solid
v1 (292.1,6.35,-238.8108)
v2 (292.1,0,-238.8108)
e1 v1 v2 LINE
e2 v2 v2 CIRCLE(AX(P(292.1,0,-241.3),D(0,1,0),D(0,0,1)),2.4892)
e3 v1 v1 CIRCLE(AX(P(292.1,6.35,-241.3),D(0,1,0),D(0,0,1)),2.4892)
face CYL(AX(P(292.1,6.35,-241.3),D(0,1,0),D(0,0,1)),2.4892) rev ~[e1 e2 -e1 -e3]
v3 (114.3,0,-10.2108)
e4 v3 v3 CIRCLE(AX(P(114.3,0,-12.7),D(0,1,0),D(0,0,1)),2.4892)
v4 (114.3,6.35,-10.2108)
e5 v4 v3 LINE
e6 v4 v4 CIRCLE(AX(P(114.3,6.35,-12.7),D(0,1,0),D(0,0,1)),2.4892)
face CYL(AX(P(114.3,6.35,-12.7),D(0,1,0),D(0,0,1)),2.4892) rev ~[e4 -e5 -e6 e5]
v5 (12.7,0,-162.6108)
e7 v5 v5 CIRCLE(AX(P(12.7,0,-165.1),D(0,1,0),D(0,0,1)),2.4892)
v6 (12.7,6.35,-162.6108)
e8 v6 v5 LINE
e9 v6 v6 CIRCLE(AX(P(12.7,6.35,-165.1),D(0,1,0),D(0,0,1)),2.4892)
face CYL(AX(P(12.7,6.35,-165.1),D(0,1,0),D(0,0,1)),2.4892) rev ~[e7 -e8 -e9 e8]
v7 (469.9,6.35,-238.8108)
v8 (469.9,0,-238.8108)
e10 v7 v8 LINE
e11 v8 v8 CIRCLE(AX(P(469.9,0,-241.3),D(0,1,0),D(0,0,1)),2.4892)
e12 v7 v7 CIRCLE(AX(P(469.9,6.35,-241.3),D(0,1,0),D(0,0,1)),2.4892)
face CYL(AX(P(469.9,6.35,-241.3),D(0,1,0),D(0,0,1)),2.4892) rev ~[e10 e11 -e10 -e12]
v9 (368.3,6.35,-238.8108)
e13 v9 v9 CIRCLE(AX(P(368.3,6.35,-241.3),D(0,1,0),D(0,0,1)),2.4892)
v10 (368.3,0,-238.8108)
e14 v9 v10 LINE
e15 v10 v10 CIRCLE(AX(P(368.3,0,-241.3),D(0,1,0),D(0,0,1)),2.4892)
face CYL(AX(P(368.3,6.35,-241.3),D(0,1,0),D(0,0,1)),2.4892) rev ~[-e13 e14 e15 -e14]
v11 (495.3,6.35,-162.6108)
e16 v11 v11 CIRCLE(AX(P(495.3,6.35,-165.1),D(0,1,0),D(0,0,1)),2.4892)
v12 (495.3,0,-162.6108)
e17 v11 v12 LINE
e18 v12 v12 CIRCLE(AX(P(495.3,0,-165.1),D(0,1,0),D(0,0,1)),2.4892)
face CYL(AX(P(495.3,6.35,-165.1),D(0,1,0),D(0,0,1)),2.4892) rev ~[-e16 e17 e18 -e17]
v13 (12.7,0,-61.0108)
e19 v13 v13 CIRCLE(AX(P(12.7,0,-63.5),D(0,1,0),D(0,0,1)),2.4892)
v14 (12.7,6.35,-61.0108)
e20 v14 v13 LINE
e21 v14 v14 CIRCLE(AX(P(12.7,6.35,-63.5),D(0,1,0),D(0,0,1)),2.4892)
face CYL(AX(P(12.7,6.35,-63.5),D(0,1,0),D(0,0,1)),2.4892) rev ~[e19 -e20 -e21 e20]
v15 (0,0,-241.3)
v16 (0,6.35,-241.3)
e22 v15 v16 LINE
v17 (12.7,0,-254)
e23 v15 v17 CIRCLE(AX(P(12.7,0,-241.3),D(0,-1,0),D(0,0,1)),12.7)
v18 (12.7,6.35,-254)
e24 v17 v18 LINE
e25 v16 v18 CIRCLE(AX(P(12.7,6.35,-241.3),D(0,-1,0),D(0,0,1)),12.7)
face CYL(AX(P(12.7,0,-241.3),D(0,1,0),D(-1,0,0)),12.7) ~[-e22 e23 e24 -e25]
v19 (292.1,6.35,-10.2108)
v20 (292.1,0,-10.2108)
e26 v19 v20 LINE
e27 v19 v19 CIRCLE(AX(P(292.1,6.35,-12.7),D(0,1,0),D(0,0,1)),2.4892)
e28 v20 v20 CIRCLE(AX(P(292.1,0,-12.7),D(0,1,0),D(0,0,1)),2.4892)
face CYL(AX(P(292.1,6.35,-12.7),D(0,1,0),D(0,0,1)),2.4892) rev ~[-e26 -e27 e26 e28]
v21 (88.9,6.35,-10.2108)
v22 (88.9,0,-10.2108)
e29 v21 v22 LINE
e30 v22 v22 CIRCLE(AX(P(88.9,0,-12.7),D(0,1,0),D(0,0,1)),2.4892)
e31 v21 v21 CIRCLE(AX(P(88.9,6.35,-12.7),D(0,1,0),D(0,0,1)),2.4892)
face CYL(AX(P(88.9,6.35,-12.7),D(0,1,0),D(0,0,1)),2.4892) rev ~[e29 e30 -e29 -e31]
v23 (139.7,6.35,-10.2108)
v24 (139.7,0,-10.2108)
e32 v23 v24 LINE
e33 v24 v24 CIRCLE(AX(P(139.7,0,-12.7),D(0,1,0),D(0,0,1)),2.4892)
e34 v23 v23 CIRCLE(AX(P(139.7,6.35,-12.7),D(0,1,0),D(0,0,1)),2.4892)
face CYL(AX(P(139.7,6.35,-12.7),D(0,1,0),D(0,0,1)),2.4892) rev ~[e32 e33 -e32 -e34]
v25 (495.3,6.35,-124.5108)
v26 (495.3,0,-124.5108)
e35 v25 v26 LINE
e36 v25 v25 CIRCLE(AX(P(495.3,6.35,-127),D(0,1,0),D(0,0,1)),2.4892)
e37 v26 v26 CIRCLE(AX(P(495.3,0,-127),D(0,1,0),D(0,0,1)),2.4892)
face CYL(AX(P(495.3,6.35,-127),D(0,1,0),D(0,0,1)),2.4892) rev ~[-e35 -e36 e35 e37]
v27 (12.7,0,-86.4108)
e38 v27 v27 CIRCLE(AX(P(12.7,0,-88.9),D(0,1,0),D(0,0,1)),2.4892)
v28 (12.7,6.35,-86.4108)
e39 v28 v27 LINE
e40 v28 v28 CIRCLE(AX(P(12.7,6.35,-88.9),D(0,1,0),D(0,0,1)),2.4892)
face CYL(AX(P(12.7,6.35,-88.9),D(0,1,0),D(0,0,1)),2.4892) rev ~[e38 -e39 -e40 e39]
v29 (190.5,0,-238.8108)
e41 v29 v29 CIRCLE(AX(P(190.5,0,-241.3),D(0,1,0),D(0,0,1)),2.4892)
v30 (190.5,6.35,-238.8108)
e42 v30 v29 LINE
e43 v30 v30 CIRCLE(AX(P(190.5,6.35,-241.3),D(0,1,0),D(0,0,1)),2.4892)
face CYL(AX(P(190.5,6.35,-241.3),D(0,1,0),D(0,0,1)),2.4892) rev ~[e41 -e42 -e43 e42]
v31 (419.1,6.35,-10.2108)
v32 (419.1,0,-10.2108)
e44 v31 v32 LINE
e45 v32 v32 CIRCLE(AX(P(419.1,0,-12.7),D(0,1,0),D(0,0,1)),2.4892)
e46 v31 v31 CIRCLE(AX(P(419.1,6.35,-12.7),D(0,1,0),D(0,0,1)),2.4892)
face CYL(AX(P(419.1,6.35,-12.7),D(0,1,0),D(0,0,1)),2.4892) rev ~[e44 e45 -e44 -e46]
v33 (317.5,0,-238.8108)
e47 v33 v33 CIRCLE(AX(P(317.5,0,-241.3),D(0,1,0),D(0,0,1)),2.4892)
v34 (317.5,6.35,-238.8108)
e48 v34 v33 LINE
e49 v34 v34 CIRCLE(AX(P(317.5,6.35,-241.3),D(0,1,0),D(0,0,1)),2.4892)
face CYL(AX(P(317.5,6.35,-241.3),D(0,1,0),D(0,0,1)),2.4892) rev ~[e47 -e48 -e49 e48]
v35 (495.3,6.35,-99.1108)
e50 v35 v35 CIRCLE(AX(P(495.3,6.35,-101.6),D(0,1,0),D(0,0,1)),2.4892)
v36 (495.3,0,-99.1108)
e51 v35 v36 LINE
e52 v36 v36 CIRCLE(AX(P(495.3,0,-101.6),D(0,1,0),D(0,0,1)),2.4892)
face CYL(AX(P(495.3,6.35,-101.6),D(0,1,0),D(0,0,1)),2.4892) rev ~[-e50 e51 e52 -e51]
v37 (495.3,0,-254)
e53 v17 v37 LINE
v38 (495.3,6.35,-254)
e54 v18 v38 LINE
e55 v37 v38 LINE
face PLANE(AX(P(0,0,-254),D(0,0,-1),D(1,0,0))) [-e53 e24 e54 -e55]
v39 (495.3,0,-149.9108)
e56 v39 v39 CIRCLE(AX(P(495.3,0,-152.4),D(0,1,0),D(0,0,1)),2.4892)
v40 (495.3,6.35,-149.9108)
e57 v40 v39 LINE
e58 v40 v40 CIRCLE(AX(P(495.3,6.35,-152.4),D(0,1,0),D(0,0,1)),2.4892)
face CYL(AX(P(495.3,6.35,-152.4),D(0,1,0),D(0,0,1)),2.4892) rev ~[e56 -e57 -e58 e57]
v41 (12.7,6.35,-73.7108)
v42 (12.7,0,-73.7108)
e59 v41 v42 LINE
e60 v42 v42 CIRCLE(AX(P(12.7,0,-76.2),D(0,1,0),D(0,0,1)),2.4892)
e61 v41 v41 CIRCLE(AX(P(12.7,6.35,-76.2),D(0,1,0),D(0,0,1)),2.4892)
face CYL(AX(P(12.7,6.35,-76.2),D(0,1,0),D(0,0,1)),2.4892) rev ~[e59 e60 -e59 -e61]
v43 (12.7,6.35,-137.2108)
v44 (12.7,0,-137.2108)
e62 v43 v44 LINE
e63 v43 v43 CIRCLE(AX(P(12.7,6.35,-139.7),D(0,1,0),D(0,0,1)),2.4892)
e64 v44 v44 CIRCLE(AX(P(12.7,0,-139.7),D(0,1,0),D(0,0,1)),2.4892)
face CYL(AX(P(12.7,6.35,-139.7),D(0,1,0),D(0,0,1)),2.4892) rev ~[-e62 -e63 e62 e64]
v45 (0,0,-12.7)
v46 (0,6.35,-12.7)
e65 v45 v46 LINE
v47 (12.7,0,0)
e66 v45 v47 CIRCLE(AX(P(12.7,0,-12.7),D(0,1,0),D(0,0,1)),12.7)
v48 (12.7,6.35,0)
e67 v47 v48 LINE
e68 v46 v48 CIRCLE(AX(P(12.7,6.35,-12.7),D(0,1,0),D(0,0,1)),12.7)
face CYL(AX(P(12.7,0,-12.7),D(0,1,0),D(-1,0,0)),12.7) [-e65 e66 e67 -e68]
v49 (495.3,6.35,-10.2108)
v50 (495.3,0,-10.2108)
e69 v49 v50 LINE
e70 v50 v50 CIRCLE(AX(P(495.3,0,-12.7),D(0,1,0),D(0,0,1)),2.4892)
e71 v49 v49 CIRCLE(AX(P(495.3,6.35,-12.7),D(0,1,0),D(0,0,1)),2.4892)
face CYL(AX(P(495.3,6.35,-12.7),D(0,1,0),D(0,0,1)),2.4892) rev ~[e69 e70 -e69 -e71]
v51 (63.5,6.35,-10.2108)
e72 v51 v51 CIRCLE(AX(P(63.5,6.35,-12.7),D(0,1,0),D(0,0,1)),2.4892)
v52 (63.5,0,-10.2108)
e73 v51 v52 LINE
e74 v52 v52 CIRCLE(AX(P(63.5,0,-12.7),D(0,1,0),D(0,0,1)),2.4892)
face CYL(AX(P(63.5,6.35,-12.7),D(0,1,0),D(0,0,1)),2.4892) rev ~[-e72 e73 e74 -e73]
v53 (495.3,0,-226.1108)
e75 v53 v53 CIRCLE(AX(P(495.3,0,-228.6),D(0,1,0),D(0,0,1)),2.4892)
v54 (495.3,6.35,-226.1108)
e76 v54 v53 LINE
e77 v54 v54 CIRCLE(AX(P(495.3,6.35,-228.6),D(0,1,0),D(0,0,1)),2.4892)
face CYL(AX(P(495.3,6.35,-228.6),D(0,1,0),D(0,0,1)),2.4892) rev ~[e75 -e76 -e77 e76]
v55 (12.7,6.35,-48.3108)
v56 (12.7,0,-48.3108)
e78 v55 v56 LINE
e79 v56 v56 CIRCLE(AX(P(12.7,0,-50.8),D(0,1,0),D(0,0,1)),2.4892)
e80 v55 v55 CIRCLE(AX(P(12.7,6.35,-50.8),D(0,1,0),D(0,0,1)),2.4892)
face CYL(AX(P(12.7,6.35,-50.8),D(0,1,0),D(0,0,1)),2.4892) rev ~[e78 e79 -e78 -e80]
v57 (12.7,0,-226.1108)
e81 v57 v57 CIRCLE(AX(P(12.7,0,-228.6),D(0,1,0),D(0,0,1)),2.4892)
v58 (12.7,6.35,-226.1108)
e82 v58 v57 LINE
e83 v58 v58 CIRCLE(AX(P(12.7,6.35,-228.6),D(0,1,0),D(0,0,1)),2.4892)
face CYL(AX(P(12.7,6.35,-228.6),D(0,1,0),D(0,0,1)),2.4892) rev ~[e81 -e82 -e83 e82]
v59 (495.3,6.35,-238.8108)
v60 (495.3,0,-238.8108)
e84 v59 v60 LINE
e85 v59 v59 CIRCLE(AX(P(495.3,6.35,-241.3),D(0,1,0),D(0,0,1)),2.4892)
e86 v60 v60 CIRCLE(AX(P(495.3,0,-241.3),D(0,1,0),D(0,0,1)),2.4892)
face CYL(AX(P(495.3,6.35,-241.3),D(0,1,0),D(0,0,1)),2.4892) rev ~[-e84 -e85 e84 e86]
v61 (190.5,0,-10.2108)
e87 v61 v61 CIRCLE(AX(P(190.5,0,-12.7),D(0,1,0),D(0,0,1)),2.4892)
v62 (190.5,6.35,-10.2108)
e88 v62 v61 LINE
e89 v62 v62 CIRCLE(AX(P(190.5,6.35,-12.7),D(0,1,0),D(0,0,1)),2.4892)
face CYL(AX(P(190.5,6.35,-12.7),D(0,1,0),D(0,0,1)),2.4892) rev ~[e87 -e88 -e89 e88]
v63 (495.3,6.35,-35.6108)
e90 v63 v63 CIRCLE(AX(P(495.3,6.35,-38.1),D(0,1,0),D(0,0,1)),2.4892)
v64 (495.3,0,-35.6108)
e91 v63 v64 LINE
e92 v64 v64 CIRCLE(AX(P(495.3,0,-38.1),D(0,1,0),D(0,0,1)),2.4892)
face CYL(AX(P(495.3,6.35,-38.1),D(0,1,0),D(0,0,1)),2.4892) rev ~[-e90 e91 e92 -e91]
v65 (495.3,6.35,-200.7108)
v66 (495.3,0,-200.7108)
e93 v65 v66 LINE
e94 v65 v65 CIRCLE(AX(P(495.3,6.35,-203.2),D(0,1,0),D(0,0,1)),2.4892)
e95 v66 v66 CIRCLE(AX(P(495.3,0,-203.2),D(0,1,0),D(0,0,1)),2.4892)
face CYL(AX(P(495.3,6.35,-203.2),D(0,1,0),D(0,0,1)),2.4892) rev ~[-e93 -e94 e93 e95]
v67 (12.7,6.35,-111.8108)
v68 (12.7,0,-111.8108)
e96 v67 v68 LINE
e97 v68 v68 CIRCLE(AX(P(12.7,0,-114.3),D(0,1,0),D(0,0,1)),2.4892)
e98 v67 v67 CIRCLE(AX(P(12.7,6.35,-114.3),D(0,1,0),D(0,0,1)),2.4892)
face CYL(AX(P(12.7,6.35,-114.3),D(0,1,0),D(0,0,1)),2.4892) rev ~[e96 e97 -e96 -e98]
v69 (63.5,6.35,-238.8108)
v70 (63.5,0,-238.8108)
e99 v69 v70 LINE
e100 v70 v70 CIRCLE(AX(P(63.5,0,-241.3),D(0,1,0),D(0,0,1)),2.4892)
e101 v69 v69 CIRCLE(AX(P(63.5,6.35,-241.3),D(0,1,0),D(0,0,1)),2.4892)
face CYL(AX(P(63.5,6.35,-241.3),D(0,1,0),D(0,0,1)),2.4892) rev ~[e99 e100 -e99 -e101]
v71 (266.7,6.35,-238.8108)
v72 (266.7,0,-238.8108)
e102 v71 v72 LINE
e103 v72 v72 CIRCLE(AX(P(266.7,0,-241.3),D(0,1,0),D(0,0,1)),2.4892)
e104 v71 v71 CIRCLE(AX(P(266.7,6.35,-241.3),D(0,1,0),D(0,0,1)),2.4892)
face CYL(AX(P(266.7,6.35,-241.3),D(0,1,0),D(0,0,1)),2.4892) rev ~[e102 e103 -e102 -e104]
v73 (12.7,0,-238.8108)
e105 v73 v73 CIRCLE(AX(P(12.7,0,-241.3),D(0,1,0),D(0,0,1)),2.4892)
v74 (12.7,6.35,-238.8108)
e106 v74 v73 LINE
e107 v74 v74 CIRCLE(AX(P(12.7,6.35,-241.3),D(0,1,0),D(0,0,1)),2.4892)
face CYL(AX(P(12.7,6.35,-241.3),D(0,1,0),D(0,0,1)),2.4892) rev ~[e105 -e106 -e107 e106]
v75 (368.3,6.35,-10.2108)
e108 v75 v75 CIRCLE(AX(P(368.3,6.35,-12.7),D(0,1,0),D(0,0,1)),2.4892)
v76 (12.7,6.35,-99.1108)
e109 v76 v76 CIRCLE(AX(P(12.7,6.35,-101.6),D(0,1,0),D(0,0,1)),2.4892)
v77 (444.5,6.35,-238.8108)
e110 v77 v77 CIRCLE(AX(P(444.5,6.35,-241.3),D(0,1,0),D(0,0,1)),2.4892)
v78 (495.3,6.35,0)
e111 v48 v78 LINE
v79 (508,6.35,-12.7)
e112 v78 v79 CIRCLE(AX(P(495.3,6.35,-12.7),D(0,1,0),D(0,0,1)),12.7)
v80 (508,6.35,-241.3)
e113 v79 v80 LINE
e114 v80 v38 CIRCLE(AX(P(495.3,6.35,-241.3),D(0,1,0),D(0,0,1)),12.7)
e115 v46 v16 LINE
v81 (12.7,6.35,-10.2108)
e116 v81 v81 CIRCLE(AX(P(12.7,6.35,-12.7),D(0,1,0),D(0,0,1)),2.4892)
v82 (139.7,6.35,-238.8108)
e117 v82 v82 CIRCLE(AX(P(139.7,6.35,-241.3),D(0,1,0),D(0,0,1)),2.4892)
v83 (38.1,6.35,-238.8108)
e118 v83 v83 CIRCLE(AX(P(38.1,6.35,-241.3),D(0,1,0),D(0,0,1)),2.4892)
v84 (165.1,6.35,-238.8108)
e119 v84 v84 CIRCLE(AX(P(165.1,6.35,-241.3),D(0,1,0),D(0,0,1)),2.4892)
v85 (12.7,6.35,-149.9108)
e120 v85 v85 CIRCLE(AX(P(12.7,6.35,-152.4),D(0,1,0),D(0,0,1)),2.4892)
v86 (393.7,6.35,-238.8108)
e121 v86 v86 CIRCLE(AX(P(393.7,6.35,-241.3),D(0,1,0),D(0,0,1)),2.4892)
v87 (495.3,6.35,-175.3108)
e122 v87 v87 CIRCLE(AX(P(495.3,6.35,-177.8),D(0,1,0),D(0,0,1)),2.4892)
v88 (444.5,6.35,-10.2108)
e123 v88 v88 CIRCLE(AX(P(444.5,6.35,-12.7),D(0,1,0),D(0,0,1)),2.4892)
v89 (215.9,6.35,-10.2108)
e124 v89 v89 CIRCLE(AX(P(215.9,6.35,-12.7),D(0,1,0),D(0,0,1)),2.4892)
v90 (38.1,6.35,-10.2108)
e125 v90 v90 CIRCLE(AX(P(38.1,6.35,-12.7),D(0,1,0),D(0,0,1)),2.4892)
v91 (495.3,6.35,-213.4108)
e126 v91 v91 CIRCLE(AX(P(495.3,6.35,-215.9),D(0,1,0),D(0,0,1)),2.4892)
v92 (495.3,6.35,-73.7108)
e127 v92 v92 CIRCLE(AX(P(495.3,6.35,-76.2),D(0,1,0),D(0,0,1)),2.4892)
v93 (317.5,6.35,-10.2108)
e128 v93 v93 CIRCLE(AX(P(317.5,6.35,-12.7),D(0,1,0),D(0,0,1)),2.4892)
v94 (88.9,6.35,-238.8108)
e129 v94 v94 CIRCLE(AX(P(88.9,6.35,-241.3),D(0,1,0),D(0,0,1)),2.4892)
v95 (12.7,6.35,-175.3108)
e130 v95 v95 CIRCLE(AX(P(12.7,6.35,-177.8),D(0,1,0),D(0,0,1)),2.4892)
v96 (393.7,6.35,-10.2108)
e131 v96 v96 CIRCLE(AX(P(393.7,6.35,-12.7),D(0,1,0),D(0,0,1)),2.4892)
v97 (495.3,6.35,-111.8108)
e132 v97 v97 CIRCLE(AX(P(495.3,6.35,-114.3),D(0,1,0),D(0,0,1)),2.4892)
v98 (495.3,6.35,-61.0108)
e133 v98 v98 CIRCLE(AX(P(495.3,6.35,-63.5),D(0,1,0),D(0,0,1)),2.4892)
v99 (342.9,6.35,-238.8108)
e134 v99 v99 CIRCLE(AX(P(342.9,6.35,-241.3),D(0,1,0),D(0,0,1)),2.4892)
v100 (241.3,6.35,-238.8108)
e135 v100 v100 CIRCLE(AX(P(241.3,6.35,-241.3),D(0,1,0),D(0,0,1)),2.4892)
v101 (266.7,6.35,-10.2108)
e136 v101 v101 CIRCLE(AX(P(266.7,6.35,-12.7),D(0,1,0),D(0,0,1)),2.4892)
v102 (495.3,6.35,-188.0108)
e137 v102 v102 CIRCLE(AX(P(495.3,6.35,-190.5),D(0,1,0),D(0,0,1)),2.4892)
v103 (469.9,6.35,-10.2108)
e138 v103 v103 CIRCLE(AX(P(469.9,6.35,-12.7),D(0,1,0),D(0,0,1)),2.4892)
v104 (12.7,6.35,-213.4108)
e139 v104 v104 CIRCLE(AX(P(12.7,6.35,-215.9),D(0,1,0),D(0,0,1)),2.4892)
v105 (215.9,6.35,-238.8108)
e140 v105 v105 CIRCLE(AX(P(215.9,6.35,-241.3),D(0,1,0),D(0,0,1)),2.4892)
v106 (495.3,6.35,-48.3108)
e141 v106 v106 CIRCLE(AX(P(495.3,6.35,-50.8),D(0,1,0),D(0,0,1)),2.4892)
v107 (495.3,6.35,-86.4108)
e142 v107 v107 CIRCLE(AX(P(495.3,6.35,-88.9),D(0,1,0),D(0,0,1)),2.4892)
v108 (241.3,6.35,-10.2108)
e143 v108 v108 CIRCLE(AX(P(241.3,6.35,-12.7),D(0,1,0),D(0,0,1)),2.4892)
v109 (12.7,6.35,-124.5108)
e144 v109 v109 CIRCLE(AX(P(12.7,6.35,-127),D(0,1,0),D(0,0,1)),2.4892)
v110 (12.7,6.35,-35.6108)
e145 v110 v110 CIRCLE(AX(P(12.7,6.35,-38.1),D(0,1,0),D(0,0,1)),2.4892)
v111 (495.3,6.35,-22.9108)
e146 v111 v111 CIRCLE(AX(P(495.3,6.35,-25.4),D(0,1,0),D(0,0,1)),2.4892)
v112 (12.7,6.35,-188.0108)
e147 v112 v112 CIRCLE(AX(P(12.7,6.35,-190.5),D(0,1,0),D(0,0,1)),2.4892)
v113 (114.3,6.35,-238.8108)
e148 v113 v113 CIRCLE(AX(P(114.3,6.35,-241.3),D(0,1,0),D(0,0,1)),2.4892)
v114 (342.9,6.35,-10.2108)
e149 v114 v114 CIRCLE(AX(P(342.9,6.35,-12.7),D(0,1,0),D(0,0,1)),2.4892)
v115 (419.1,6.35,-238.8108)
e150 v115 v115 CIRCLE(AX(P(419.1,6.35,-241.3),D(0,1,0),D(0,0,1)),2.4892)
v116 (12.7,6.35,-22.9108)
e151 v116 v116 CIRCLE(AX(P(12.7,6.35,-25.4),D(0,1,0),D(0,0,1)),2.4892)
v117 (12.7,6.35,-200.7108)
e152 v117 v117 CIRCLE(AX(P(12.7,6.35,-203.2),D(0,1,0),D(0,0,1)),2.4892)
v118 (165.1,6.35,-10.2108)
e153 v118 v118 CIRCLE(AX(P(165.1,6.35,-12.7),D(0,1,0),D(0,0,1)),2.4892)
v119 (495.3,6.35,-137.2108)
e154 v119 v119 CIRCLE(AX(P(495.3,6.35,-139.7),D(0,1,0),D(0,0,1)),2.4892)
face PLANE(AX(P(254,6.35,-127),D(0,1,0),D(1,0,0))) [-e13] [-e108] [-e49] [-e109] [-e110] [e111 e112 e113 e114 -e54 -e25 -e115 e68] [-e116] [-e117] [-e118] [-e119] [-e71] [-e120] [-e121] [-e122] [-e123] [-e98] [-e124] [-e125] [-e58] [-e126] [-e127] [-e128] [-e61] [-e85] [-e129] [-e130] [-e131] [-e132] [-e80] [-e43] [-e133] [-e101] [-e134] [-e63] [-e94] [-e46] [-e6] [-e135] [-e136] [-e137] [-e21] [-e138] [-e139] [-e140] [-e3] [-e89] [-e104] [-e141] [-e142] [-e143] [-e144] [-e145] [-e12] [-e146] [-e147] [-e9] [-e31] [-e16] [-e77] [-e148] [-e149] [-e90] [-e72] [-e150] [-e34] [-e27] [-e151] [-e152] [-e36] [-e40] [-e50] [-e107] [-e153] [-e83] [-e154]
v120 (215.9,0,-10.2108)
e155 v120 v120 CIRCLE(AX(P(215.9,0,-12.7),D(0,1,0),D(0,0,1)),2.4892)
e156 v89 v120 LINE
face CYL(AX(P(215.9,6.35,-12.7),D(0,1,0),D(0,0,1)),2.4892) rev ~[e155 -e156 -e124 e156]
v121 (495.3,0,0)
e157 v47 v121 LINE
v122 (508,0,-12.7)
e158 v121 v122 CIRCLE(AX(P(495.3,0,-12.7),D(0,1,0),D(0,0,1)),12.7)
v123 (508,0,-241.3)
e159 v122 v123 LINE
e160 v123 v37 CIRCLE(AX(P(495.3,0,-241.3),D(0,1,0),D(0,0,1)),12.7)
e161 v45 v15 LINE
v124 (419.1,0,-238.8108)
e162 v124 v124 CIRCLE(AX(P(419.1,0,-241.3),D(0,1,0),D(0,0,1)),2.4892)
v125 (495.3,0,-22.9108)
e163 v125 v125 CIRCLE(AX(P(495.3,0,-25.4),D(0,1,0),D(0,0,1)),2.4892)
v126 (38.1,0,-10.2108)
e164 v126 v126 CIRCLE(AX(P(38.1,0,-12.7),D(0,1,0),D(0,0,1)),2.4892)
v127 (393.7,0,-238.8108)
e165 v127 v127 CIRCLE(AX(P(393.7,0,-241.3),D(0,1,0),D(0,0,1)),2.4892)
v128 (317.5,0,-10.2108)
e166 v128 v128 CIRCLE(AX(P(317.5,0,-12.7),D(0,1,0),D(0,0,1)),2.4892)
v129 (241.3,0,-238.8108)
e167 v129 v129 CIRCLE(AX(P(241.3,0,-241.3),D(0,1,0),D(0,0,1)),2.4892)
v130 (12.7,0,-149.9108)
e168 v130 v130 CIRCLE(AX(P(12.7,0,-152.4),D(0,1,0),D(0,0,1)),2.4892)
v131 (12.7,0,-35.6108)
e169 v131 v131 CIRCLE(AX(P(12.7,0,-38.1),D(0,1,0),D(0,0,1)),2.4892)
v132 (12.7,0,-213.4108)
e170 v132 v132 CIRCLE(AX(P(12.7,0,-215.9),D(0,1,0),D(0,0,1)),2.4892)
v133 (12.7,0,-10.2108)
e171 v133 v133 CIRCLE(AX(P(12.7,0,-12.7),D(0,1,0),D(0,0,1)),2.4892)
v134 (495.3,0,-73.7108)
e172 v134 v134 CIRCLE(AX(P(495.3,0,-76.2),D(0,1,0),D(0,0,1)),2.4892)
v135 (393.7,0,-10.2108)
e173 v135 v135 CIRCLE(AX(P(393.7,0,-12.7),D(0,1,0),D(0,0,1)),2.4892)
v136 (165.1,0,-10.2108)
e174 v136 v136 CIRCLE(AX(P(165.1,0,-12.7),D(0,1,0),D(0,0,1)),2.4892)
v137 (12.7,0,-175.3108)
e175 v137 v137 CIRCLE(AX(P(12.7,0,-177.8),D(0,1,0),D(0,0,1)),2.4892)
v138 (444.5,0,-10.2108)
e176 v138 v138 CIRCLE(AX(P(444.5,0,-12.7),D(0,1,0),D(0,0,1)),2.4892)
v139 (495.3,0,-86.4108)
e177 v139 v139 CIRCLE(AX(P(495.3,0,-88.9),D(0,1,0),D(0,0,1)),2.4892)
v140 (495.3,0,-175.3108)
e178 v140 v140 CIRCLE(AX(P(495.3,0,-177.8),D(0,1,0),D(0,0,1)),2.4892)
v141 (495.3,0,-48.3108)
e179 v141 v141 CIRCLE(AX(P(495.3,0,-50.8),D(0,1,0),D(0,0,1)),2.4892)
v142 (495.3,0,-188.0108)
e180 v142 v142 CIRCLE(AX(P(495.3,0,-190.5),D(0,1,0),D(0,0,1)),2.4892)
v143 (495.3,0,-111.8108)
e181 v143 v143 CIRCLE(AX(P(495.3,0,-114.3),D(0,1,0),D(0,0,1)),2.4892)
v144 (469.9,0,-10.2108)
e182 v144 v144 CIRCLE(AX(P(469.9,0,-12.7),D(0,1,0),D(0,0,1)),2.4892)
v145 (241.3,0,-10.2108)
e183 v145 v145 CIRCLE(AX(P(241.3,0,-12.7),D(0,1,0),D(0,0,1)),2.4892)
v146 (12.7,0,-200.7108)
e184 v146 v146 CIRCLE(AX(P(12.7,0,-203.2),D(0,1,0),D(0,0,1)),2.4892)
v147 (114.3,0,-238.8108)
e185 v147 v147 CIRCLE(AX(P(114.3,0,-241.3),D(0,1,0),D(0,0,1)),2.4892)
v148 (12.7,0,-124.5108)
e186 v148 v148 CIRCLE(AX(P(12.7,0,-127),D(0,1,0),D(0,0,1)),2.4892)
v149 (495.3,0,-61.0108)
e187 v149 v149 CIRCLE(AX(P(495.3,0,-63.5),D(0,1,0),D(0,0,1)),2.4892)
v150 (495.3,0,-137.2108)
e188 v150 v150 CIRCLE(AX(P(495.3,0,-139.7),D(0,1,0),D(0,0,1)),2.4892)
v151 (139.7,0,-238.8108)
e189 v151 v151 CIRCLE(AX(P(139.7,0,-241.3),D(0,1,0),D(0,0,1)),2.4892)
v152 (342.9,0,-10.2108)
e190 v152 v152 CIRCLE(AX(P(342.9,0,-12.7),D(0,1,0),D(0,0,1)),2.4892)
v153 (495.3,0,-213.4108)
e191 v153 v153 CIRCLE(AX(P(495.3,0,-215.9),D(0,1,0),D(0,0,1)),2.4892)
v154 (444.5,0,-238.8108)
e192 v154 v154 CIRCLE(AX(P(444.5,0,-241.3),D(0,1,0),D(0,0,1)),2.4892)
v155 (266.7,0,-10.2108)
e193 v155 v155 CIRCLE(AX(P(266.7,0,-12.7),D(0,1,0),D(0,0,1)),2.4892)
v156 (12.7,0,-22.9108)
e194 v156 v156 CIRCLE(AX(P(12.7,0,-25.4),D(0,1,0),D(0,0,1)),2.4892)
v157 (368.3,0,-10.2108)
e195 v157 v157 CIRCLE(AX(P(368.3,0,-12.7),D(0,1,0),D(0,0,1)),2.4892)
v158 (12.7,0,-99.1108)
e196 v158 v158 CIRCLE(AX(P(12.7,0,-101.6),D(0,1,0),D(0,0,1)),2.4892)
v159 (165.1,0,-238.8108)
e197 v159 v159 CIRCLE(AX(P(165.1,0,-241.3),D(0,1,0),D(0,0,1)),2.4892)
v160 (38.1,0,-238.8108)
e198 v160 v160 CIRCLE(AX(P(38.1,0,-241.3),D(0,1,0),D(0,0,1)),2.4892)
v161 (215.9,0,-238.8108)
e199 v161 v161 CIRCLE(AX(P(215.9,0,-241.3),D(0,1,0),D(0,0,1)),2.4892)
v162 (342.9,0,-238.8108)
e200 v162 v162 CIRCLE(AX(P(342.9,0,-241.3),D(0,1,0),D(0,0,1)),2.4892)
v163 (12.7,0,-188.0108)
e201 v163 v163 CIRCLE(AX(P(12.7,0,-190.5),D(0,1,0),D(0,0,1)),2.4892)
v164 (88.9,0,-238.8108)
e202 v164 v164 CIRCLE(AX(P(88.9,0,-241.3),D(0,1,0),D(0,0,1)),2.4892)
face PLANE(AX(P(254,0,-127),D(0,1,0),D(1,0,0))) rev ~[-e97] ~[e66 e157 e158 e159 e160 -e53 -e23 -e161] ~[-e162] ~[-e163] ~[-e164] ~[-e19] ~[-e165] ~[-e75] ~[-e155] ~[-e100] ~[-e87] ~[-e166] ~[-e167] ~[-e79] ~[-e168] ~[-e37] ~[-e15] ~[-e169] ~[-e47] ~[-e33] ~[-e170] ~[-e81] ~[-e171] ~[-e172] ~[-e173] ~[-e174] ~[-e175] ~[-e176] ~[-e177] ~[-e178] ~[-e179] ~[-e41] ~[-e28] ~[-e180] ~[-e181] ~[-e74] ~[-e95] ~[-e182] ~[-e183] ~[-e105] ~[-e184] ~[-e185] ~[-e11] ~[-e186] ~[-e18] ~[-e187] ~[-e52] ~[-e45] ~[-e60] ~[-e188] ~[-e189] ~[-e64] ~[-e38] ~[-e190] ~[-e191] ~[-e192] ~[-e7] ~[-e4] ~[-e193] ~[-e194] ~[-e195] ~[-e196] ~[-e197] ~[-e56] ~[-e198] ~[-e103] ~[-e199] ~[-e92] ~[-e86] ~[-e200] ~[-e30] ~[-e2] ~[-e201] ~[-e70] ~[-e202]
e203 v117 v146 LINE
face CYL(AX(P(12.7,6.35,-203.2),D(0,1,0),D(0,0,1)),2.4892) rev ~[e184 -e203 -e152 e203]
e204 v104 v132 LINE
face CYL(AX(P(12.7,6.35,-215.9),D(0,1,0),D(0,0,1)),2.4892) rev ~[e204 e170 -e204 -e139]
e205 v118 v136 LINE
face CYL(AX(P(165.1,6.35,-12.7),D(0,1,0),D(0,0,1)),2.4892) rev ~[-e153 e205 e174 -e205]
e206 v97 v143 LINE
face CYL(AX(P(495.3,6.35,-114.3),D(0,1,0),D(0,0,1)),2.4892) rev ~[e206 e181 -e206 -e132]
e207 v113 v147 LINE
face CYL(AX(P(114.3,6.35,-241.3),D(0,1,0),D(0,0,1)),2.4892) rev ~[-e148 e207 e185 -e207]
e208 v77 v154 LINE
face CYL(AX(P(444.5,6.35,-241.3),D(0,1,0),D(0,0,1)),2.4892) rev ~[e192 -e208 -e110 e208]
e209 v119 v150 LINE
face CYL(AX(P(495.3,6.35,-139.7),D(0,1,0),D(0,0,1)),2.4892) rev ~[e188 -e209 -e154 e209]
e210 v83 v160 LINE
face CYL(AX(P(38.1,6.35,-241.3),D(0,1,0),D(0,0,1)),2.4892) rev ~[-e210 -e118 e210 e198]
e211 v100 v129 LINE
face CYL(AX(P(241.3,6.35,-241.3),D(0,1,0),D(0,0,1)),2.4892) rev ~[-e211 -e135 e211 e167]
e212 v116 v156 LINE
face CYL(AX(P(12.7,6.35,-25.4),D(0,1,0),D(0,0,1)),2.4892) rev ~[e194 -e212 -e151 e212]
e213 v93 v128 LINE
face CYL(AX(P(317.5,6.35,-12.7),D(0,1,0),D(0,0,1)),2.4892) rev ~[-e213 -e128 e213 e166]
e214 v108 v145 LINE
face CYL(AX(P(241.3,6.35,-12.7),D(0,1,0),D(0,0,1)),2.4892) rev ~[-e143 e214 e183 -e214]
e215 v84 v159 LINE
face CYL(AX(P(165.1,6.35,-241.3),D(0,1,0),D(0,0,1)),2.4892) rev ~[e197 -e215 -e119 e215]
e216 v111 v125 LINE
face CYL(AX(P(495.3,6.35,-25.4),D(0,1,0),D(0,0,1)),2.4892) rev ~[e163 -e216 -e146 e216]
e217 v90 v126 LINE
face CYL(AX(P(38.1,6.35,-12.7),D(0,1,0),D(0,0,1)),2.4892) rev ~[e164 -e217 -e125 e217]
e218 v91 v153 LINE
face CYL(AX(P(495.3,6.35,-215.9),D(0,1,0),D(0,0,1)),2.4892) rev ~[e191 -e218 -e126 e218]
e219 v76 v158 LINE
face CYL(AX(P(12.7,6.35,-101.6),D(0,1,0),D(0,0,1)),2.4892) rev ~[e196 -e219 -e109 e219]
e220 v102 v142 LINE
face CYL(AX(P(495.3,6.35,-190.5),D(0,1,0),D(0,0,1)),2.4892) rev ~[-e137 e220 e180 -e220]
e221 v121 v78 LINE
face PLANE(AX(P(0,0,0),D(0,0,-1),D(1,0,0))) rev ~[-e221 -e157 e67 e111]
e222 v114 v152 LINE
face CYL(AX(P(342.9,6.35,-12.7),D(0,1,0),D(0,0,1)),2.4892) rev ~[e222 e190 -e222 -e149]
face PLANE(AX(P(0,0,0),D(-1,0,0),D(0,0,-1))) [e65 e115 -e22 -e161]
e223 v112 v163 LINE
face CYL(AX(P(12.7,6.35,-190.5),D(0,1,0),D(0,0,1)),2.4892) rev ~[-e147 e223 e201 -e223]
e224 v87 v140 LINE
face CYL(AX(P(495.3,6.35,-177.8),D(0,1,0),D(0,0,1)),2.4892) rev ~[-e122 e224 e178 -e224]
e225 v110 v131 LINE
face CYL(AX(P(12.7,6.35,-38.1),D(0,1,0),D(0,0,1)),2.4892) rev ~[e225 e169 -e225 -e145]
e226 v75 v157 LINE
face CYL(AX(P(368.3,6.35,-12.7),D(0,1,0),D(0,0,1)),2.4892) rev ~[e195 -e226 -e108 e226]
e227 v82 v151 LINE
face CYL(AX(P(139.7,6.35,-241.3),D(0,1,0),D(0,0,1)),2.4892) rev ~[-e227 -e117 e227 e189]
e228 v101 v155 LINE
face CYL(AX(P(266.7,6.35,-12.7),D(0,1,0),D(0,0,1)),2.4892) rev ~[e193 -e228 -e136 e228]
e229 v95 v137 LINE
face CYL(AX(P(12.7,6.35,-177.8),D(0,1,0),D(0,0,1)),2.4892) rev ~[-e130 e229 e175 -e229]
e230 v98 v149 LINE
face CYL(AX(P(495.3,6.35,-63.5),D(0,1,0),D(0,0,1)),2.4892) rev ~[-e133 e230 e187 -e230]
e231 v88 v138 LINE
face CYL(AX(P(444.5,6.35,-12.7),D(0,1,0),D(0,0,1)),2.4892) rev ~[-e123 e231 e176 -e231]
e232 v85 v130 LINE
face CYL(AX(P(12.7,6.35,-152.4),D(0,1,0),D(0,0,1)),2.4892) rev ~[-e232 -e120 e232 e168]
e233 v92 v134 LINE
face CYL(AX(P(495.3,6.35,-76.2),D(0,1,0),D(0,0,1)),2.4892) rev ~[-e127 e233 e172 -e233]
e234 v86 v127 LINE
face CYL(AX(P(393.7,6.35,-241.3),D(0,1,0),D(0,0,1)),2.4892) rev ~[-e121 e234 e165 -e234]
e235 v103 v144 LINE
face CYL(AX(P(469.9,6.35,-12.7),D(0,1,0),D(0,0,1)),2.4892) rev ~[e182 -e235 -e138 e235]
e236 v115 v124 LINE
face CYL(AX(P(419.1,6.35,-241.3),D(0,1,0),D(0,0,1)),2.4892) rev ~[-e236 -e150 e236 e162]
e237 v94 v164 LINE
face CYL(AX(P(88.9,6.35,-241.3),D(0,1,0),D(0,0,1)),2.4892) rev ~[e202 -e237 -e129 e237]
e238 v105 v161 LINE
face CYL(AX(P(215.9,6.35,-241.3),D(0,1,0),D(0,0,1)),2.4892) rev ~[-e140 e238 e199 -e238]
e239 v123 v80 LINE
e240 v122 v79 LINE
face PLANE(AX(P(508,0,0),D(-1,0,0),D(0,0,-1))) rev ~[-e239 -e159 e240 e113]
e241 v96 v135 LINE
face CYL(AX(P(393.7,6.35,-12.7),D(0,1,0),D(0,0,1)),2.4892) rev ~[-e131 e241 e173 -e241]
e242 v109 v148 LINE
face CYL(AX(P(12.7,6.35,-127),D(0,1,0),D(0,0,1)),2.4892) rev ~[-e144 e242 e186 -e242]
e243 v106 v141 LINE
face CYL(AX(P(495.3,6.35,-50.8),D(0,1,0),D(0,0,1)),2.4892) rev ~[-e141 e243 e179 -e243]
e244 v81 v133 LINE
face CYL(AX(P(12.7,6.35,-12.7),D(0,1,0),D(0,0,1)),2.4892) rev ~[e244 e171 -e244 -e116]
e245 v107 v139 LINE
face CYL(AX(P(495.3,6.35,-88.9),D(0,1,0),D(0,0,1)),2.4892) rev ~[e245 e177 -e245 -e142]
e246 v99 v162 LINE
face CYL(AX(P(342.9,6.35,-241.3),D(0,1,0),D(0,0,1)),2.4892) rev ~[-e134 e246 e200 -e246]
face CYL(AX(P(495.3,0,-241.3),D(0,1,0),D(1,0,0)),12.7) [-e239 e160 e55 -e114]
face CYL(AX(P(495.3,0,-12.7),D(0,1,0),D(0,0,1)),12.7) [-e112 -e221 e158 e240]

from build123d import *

# Parameters (mm, degrees)
SKETCH1_W           = 508
SKETCH1_H           = 254
BOSS_EXTRUDE1_DEPTH = 6.35
FILLET1_R           = 12.7
SKETCH3_R           = 2.4892
CUT_EXTRUDE2_DEPTH  = 568.996762755


with BuildPart() as part:
    # Sketch1 → Boss-Extrude1 (new body)
    with BuildSketch(Plane(origin=(0, 0, 0), x_dir=(1, 0, 0), z_dir=(0, 1, 0))):
        with Locations((254, 127)):
            Rectangle(SKETCH1_W, SKETCH1_H)
    extrude(amount=BOSS_EXTRUDE1_DEPTH)

    # Fillet1
    fillet1_edges = [part.edges().sort_by_distance(p)[0] for p in [
        (0, 3.175, -254),
        (508, 3.175, -254),
        (508, 3.175, 0),
        (0, 3.175, 0),
    ]]
    fillet(fillet1_edges, radius=FILLET1_R)

    # Sketch3 → Cut-Extrude2 (cut, through all)
    with BuildSketch(Plane(origin=(0, 6.35, 0), x_dir=(1, 0, 0), z_dir=(0, 1, 0))):
        with Locations(Location((12.7, 203.2, 0), (0, 0, 270))):
            Circle(SKETCH3_R)
        with Locations(Location((12.7, 215.9, 0), (0, 0, 270))):
            Circle(SKETCH3_R)
        with Locations(Location((12.7, 228.6, 0), (0, 0, 270))):
            Circle(SKETCH3_R)
        with Locations(Location((12.7, 241.3, 0), (0, 0, 270))):
            Circle(SKETCH3_R)
        with Locations(Location((38.1, 241.3, 0), (0, 0, 270))):
            Circle(SKETCH3_R)
        with Locations(Location((63.5, 241.3, 0), (0, 0, 270))):
            Circle(SKETCH3_R)
        with Locations(Location((88.9, 241.3, 0), (0, 0, 270))):
            Circle(SKETCH3_R)
        with Locations(Location((114.3, 241.3, 0), (0, 0, 270))):
            Circle(SKETCH3_R)
        with Locations(Location((12.7, 12.7, 0), (0, 0, 270))):
            Circle(SKETCH3_R)
        with Locations(Location((12.7, 25.4, 0), (0, 0, 270))):
            Circle(SKETCH3_R)
        with Locations(Location((12.7, 38.1, 0), (0, 0, 270))):
            Circle(SKETCH3_R)
        with Locations(Location((12.7, 50.8, 0), (0, 0, 270))):
            Circle(SKETCH3_R)
        with Locations(Location((12.7, 63.5, 0), (0, 0, 270))):
            Circle(SKETCH3_R)
        with Locations(Location((38.1, 12.7, 0), (0, 0, 270))):
            Circle(SKETCH3_R)
        with Locations(Location((63.5, 12.7, 0), (0, 0, 270))):
            Circle(SKETCH3_R)
        with Locations(Location((88.9, 12.7, 0), (0, 0, 270))):
            Circle(SKETCH3_R)
        with Locations(Location((12.7, 101.6, 0), (0, 0, 270))):
            Circle(SKETCH3_R)
        with Locations(Location((12.7, 114.3, 0), (0, 0, 270))):
            Circle(SKETCH3_R)
        with Locations(Location((12.7, 127, 0), (0, 0, 270))):
            Circle(SKETCH3_R)
        with Locations(Location((12.7, 139.7, 0), (0, 0, 270))):
            Circle(SKETCH3_R)
        with Locations(Location((12.7, 165.1, 0), (0, 0, 270))):
            Circle(SKETCH3_R)
        with Locations(Location((12.7, 152.4, 0), (0, 0, 270))):
            Circle(SKETCH3_R)
        with Locations(Location((12.7, 177.8, 0), (0, 0, 270))):
            Circle(SKETCH3_R)
        with Locations(Location((12.7, 190.5, 0), (0, 0, 270))):
            Circle(SKETCH3_R)
        with Locations(Location((12.7, 88.9, 0), (0, 0, 270))):
            Circle(SKETCH3_R)
        with Locations(Location((12.7, 76.2, 0), (0, 0, 270))):
            Circle(SKETCH3_R)
        with Locations(Location((495.3, 12.7, 0), (0, 0, 270))):
            Circle(SKETCH3_R)
        with Locations(Location((469.9, 12.7, 0), (0, 0, 270))):
            Circle(SKETCH3_R)
        with Locations(Location((444.5, 12.7, 0), (0, 0, 270))):
            Circle(SKETCH3_R)
        with Locations(Location((419.1, 12.7, 0), (0, 0, 270))):
            Circle(SKETCH3_R)
        with Locations(Location((393.7, 12.7, 0), (0, 0, 270))):
            Circle(SKETCH3_R)
        with Locations(Location((368.3, 12.7, 0), (0, 0, 270))):
            Circle(SKETCH3_R)
        with Locations(Location((342.9, 12.7, 0), (0, 0, 270))):
            Circle(SKETCH3_R)
        with Locations(Location((317.5, 12.7, 0), (0, 0, 270))):
            Circle(SKETCH3_R)
        with Locations(Location((292.1, 12.7, 0), (0, 0, 270))):
            Circle(SKETCH3_R)
        with Locations(Location((266.7, 12.7, 0), (0, 0, 270))):
            Circle(SKETCH3_R)
        with Locations(Location((241.3, 12.7, 0), (0, 0, 270))):
            Circle(SKETCH3_R)
        with Locations(Location((215.9, 12.7, 0), (0, 0, 270))):
            Circle(SKETCH3_R)
        with Locations(Location((114.3, 12.7, 0), (0, 0, 270))):
            Circle(SKETCH3_R)
        with Locations(Location((139.7, 12.7, 0), (0, 0, 270))):
            Circle(SKETCH3_R)
        with Locations(Location((165.1, 12.7, 0), (0, 0, 270))):
            Circle(SKETCH3_R)
        with Locations(Location((190.5, 12.7, 0), (0, 0, 270))):
            Circle(SKETCH3_R)
        with Locations(Location((139.7, 241.3, 0), (0, 0, 270))):
            Circle(SKETCH3_R)
        with Locations(Location((165.1, 241.3, 0), (0, 0, 270))):
            Circle(SKETCH3_R)
        with Locations(Location((190.5, 241.3, 0), (0, 0, 270))):
            Circle(SKETCH3_R)
        with Locations(Location((215.9, 241.3, 0), (0, 0, 270))):
            Circle(SKETCH3_R)
        with Locations(Location((241.3, 241.3, 0), (0, 0, 270))):
            Circle(SKETCH3_R)
        with Locations(Location((266.7, 241.3, 0), (0, 0, 270))):
            Circle(SKETCH3_R)
        with Locations(Location((292.1, 241.3, 0), (0, 0, 270))):
            Circle(SKETCH3_R)
        with Locations(Location((317.5, 241.3, 0), (0, 0, 270))):
            Circle(SKETCH3_R)
        with Locations(Location((342.9, 241.3, 0), (0, 0, 270))):
            Circle(SKETCH3_R)
        with Locations(Location((368.3, 241.3, 0), (0, 0, 270))):
            Circle(SKETCH3_R)
        with Locations(Location((393.7, 241.3, 0), (0, 0, 270))):
            Circle(SKETCH3_R)
        with Locations(Location((419.1, 241.3, 0), (0, 0, 270))):
            Circle(SKETCH3_R)
        with Locations(Location((444.5, 241.3, 0), (0, 0, 270))):
            Circle(SKETCH3_R)
        with Locations(Location((469.9, 241.3, 0), (0, 0, 270))):
            Circle(SKETCH3_R)
        with Locations(Location((495.3, 241.3, 0), (0, 0, 270))):
            Circle(SKETCH3_R)
        with Locations(Location((495.3, 25.4, 0), (0, 0, 270))):
            Circle(SKETCH3_R)
        with Locations(Location((495.3, 38.1, 0), (0, 0, 270))):
            Circle(SKETCH3_R)
        with Locations(Location((495.3, 50.8, 0), (0, 0, 270))):
            Circle(SKETCH3_R)
        with Locations(Location((495.3, 101.6, 0), (0, 0, 270))):
            Circle(SKETCH3_R)
        with Locations(Location((495.3, 88.9, 0), (0, 0, 270))):
            Circle(SKETCH3_R)
        with Locations(Location((495.3, 76.2, 0), (0, 0, 270))):
            Circle(SKETCH3_R)
        with Locations(Location((495.3, 63.5, 0), (0, 0, 270))):
            Circle(SKETCH3_R)
        with Locations(Location((495.3, 114.3, 0), (0, 0, 270))):
            Circle(SKETCH3_R)
        with Locations(Location((495.3, 127, 0), (0, 0, 270))):
            Circle(SKETCH3_R)
        with Locations(Location((495.3, 139.7, 0), (0, 0, 270))):
            Circle(SKETCH3_R)
        with Locations(Location((495.3, 152.4, 0), (0, 0, 270))):
            Circle(SKETCH3_R)
        with Locations(Location((495.3, 165.1, 0), (0, 0, 270))):
            Circle(SKETCH3_R)
        with Locations(Location((495.3, 177.8, 0), (0, 0, 270))):
            Circle(SKETCH3_R)
        with Locations(Location((495.3, 190.5, 0), (0, 0, 270))):
            Circle(SKETCH3_R)
        with Locations(Location((495.3, 203.2, 0), (0, 0, 270))):
            Circle(SKETCH3_R)
        with Locations(Location((495.3, 228.6, 0), (0, 0, 270))):
            Circle(SKETCH3_R)
        with Locations(Location((495.3, 215.9, 0), (0, 0, 270))):
            Circle(SKETCH3_R)
    extrude(amount=-CUT_EXTRUDE2_DEPTH, mode=Mode.SUBTRACT)


solid = part.part
